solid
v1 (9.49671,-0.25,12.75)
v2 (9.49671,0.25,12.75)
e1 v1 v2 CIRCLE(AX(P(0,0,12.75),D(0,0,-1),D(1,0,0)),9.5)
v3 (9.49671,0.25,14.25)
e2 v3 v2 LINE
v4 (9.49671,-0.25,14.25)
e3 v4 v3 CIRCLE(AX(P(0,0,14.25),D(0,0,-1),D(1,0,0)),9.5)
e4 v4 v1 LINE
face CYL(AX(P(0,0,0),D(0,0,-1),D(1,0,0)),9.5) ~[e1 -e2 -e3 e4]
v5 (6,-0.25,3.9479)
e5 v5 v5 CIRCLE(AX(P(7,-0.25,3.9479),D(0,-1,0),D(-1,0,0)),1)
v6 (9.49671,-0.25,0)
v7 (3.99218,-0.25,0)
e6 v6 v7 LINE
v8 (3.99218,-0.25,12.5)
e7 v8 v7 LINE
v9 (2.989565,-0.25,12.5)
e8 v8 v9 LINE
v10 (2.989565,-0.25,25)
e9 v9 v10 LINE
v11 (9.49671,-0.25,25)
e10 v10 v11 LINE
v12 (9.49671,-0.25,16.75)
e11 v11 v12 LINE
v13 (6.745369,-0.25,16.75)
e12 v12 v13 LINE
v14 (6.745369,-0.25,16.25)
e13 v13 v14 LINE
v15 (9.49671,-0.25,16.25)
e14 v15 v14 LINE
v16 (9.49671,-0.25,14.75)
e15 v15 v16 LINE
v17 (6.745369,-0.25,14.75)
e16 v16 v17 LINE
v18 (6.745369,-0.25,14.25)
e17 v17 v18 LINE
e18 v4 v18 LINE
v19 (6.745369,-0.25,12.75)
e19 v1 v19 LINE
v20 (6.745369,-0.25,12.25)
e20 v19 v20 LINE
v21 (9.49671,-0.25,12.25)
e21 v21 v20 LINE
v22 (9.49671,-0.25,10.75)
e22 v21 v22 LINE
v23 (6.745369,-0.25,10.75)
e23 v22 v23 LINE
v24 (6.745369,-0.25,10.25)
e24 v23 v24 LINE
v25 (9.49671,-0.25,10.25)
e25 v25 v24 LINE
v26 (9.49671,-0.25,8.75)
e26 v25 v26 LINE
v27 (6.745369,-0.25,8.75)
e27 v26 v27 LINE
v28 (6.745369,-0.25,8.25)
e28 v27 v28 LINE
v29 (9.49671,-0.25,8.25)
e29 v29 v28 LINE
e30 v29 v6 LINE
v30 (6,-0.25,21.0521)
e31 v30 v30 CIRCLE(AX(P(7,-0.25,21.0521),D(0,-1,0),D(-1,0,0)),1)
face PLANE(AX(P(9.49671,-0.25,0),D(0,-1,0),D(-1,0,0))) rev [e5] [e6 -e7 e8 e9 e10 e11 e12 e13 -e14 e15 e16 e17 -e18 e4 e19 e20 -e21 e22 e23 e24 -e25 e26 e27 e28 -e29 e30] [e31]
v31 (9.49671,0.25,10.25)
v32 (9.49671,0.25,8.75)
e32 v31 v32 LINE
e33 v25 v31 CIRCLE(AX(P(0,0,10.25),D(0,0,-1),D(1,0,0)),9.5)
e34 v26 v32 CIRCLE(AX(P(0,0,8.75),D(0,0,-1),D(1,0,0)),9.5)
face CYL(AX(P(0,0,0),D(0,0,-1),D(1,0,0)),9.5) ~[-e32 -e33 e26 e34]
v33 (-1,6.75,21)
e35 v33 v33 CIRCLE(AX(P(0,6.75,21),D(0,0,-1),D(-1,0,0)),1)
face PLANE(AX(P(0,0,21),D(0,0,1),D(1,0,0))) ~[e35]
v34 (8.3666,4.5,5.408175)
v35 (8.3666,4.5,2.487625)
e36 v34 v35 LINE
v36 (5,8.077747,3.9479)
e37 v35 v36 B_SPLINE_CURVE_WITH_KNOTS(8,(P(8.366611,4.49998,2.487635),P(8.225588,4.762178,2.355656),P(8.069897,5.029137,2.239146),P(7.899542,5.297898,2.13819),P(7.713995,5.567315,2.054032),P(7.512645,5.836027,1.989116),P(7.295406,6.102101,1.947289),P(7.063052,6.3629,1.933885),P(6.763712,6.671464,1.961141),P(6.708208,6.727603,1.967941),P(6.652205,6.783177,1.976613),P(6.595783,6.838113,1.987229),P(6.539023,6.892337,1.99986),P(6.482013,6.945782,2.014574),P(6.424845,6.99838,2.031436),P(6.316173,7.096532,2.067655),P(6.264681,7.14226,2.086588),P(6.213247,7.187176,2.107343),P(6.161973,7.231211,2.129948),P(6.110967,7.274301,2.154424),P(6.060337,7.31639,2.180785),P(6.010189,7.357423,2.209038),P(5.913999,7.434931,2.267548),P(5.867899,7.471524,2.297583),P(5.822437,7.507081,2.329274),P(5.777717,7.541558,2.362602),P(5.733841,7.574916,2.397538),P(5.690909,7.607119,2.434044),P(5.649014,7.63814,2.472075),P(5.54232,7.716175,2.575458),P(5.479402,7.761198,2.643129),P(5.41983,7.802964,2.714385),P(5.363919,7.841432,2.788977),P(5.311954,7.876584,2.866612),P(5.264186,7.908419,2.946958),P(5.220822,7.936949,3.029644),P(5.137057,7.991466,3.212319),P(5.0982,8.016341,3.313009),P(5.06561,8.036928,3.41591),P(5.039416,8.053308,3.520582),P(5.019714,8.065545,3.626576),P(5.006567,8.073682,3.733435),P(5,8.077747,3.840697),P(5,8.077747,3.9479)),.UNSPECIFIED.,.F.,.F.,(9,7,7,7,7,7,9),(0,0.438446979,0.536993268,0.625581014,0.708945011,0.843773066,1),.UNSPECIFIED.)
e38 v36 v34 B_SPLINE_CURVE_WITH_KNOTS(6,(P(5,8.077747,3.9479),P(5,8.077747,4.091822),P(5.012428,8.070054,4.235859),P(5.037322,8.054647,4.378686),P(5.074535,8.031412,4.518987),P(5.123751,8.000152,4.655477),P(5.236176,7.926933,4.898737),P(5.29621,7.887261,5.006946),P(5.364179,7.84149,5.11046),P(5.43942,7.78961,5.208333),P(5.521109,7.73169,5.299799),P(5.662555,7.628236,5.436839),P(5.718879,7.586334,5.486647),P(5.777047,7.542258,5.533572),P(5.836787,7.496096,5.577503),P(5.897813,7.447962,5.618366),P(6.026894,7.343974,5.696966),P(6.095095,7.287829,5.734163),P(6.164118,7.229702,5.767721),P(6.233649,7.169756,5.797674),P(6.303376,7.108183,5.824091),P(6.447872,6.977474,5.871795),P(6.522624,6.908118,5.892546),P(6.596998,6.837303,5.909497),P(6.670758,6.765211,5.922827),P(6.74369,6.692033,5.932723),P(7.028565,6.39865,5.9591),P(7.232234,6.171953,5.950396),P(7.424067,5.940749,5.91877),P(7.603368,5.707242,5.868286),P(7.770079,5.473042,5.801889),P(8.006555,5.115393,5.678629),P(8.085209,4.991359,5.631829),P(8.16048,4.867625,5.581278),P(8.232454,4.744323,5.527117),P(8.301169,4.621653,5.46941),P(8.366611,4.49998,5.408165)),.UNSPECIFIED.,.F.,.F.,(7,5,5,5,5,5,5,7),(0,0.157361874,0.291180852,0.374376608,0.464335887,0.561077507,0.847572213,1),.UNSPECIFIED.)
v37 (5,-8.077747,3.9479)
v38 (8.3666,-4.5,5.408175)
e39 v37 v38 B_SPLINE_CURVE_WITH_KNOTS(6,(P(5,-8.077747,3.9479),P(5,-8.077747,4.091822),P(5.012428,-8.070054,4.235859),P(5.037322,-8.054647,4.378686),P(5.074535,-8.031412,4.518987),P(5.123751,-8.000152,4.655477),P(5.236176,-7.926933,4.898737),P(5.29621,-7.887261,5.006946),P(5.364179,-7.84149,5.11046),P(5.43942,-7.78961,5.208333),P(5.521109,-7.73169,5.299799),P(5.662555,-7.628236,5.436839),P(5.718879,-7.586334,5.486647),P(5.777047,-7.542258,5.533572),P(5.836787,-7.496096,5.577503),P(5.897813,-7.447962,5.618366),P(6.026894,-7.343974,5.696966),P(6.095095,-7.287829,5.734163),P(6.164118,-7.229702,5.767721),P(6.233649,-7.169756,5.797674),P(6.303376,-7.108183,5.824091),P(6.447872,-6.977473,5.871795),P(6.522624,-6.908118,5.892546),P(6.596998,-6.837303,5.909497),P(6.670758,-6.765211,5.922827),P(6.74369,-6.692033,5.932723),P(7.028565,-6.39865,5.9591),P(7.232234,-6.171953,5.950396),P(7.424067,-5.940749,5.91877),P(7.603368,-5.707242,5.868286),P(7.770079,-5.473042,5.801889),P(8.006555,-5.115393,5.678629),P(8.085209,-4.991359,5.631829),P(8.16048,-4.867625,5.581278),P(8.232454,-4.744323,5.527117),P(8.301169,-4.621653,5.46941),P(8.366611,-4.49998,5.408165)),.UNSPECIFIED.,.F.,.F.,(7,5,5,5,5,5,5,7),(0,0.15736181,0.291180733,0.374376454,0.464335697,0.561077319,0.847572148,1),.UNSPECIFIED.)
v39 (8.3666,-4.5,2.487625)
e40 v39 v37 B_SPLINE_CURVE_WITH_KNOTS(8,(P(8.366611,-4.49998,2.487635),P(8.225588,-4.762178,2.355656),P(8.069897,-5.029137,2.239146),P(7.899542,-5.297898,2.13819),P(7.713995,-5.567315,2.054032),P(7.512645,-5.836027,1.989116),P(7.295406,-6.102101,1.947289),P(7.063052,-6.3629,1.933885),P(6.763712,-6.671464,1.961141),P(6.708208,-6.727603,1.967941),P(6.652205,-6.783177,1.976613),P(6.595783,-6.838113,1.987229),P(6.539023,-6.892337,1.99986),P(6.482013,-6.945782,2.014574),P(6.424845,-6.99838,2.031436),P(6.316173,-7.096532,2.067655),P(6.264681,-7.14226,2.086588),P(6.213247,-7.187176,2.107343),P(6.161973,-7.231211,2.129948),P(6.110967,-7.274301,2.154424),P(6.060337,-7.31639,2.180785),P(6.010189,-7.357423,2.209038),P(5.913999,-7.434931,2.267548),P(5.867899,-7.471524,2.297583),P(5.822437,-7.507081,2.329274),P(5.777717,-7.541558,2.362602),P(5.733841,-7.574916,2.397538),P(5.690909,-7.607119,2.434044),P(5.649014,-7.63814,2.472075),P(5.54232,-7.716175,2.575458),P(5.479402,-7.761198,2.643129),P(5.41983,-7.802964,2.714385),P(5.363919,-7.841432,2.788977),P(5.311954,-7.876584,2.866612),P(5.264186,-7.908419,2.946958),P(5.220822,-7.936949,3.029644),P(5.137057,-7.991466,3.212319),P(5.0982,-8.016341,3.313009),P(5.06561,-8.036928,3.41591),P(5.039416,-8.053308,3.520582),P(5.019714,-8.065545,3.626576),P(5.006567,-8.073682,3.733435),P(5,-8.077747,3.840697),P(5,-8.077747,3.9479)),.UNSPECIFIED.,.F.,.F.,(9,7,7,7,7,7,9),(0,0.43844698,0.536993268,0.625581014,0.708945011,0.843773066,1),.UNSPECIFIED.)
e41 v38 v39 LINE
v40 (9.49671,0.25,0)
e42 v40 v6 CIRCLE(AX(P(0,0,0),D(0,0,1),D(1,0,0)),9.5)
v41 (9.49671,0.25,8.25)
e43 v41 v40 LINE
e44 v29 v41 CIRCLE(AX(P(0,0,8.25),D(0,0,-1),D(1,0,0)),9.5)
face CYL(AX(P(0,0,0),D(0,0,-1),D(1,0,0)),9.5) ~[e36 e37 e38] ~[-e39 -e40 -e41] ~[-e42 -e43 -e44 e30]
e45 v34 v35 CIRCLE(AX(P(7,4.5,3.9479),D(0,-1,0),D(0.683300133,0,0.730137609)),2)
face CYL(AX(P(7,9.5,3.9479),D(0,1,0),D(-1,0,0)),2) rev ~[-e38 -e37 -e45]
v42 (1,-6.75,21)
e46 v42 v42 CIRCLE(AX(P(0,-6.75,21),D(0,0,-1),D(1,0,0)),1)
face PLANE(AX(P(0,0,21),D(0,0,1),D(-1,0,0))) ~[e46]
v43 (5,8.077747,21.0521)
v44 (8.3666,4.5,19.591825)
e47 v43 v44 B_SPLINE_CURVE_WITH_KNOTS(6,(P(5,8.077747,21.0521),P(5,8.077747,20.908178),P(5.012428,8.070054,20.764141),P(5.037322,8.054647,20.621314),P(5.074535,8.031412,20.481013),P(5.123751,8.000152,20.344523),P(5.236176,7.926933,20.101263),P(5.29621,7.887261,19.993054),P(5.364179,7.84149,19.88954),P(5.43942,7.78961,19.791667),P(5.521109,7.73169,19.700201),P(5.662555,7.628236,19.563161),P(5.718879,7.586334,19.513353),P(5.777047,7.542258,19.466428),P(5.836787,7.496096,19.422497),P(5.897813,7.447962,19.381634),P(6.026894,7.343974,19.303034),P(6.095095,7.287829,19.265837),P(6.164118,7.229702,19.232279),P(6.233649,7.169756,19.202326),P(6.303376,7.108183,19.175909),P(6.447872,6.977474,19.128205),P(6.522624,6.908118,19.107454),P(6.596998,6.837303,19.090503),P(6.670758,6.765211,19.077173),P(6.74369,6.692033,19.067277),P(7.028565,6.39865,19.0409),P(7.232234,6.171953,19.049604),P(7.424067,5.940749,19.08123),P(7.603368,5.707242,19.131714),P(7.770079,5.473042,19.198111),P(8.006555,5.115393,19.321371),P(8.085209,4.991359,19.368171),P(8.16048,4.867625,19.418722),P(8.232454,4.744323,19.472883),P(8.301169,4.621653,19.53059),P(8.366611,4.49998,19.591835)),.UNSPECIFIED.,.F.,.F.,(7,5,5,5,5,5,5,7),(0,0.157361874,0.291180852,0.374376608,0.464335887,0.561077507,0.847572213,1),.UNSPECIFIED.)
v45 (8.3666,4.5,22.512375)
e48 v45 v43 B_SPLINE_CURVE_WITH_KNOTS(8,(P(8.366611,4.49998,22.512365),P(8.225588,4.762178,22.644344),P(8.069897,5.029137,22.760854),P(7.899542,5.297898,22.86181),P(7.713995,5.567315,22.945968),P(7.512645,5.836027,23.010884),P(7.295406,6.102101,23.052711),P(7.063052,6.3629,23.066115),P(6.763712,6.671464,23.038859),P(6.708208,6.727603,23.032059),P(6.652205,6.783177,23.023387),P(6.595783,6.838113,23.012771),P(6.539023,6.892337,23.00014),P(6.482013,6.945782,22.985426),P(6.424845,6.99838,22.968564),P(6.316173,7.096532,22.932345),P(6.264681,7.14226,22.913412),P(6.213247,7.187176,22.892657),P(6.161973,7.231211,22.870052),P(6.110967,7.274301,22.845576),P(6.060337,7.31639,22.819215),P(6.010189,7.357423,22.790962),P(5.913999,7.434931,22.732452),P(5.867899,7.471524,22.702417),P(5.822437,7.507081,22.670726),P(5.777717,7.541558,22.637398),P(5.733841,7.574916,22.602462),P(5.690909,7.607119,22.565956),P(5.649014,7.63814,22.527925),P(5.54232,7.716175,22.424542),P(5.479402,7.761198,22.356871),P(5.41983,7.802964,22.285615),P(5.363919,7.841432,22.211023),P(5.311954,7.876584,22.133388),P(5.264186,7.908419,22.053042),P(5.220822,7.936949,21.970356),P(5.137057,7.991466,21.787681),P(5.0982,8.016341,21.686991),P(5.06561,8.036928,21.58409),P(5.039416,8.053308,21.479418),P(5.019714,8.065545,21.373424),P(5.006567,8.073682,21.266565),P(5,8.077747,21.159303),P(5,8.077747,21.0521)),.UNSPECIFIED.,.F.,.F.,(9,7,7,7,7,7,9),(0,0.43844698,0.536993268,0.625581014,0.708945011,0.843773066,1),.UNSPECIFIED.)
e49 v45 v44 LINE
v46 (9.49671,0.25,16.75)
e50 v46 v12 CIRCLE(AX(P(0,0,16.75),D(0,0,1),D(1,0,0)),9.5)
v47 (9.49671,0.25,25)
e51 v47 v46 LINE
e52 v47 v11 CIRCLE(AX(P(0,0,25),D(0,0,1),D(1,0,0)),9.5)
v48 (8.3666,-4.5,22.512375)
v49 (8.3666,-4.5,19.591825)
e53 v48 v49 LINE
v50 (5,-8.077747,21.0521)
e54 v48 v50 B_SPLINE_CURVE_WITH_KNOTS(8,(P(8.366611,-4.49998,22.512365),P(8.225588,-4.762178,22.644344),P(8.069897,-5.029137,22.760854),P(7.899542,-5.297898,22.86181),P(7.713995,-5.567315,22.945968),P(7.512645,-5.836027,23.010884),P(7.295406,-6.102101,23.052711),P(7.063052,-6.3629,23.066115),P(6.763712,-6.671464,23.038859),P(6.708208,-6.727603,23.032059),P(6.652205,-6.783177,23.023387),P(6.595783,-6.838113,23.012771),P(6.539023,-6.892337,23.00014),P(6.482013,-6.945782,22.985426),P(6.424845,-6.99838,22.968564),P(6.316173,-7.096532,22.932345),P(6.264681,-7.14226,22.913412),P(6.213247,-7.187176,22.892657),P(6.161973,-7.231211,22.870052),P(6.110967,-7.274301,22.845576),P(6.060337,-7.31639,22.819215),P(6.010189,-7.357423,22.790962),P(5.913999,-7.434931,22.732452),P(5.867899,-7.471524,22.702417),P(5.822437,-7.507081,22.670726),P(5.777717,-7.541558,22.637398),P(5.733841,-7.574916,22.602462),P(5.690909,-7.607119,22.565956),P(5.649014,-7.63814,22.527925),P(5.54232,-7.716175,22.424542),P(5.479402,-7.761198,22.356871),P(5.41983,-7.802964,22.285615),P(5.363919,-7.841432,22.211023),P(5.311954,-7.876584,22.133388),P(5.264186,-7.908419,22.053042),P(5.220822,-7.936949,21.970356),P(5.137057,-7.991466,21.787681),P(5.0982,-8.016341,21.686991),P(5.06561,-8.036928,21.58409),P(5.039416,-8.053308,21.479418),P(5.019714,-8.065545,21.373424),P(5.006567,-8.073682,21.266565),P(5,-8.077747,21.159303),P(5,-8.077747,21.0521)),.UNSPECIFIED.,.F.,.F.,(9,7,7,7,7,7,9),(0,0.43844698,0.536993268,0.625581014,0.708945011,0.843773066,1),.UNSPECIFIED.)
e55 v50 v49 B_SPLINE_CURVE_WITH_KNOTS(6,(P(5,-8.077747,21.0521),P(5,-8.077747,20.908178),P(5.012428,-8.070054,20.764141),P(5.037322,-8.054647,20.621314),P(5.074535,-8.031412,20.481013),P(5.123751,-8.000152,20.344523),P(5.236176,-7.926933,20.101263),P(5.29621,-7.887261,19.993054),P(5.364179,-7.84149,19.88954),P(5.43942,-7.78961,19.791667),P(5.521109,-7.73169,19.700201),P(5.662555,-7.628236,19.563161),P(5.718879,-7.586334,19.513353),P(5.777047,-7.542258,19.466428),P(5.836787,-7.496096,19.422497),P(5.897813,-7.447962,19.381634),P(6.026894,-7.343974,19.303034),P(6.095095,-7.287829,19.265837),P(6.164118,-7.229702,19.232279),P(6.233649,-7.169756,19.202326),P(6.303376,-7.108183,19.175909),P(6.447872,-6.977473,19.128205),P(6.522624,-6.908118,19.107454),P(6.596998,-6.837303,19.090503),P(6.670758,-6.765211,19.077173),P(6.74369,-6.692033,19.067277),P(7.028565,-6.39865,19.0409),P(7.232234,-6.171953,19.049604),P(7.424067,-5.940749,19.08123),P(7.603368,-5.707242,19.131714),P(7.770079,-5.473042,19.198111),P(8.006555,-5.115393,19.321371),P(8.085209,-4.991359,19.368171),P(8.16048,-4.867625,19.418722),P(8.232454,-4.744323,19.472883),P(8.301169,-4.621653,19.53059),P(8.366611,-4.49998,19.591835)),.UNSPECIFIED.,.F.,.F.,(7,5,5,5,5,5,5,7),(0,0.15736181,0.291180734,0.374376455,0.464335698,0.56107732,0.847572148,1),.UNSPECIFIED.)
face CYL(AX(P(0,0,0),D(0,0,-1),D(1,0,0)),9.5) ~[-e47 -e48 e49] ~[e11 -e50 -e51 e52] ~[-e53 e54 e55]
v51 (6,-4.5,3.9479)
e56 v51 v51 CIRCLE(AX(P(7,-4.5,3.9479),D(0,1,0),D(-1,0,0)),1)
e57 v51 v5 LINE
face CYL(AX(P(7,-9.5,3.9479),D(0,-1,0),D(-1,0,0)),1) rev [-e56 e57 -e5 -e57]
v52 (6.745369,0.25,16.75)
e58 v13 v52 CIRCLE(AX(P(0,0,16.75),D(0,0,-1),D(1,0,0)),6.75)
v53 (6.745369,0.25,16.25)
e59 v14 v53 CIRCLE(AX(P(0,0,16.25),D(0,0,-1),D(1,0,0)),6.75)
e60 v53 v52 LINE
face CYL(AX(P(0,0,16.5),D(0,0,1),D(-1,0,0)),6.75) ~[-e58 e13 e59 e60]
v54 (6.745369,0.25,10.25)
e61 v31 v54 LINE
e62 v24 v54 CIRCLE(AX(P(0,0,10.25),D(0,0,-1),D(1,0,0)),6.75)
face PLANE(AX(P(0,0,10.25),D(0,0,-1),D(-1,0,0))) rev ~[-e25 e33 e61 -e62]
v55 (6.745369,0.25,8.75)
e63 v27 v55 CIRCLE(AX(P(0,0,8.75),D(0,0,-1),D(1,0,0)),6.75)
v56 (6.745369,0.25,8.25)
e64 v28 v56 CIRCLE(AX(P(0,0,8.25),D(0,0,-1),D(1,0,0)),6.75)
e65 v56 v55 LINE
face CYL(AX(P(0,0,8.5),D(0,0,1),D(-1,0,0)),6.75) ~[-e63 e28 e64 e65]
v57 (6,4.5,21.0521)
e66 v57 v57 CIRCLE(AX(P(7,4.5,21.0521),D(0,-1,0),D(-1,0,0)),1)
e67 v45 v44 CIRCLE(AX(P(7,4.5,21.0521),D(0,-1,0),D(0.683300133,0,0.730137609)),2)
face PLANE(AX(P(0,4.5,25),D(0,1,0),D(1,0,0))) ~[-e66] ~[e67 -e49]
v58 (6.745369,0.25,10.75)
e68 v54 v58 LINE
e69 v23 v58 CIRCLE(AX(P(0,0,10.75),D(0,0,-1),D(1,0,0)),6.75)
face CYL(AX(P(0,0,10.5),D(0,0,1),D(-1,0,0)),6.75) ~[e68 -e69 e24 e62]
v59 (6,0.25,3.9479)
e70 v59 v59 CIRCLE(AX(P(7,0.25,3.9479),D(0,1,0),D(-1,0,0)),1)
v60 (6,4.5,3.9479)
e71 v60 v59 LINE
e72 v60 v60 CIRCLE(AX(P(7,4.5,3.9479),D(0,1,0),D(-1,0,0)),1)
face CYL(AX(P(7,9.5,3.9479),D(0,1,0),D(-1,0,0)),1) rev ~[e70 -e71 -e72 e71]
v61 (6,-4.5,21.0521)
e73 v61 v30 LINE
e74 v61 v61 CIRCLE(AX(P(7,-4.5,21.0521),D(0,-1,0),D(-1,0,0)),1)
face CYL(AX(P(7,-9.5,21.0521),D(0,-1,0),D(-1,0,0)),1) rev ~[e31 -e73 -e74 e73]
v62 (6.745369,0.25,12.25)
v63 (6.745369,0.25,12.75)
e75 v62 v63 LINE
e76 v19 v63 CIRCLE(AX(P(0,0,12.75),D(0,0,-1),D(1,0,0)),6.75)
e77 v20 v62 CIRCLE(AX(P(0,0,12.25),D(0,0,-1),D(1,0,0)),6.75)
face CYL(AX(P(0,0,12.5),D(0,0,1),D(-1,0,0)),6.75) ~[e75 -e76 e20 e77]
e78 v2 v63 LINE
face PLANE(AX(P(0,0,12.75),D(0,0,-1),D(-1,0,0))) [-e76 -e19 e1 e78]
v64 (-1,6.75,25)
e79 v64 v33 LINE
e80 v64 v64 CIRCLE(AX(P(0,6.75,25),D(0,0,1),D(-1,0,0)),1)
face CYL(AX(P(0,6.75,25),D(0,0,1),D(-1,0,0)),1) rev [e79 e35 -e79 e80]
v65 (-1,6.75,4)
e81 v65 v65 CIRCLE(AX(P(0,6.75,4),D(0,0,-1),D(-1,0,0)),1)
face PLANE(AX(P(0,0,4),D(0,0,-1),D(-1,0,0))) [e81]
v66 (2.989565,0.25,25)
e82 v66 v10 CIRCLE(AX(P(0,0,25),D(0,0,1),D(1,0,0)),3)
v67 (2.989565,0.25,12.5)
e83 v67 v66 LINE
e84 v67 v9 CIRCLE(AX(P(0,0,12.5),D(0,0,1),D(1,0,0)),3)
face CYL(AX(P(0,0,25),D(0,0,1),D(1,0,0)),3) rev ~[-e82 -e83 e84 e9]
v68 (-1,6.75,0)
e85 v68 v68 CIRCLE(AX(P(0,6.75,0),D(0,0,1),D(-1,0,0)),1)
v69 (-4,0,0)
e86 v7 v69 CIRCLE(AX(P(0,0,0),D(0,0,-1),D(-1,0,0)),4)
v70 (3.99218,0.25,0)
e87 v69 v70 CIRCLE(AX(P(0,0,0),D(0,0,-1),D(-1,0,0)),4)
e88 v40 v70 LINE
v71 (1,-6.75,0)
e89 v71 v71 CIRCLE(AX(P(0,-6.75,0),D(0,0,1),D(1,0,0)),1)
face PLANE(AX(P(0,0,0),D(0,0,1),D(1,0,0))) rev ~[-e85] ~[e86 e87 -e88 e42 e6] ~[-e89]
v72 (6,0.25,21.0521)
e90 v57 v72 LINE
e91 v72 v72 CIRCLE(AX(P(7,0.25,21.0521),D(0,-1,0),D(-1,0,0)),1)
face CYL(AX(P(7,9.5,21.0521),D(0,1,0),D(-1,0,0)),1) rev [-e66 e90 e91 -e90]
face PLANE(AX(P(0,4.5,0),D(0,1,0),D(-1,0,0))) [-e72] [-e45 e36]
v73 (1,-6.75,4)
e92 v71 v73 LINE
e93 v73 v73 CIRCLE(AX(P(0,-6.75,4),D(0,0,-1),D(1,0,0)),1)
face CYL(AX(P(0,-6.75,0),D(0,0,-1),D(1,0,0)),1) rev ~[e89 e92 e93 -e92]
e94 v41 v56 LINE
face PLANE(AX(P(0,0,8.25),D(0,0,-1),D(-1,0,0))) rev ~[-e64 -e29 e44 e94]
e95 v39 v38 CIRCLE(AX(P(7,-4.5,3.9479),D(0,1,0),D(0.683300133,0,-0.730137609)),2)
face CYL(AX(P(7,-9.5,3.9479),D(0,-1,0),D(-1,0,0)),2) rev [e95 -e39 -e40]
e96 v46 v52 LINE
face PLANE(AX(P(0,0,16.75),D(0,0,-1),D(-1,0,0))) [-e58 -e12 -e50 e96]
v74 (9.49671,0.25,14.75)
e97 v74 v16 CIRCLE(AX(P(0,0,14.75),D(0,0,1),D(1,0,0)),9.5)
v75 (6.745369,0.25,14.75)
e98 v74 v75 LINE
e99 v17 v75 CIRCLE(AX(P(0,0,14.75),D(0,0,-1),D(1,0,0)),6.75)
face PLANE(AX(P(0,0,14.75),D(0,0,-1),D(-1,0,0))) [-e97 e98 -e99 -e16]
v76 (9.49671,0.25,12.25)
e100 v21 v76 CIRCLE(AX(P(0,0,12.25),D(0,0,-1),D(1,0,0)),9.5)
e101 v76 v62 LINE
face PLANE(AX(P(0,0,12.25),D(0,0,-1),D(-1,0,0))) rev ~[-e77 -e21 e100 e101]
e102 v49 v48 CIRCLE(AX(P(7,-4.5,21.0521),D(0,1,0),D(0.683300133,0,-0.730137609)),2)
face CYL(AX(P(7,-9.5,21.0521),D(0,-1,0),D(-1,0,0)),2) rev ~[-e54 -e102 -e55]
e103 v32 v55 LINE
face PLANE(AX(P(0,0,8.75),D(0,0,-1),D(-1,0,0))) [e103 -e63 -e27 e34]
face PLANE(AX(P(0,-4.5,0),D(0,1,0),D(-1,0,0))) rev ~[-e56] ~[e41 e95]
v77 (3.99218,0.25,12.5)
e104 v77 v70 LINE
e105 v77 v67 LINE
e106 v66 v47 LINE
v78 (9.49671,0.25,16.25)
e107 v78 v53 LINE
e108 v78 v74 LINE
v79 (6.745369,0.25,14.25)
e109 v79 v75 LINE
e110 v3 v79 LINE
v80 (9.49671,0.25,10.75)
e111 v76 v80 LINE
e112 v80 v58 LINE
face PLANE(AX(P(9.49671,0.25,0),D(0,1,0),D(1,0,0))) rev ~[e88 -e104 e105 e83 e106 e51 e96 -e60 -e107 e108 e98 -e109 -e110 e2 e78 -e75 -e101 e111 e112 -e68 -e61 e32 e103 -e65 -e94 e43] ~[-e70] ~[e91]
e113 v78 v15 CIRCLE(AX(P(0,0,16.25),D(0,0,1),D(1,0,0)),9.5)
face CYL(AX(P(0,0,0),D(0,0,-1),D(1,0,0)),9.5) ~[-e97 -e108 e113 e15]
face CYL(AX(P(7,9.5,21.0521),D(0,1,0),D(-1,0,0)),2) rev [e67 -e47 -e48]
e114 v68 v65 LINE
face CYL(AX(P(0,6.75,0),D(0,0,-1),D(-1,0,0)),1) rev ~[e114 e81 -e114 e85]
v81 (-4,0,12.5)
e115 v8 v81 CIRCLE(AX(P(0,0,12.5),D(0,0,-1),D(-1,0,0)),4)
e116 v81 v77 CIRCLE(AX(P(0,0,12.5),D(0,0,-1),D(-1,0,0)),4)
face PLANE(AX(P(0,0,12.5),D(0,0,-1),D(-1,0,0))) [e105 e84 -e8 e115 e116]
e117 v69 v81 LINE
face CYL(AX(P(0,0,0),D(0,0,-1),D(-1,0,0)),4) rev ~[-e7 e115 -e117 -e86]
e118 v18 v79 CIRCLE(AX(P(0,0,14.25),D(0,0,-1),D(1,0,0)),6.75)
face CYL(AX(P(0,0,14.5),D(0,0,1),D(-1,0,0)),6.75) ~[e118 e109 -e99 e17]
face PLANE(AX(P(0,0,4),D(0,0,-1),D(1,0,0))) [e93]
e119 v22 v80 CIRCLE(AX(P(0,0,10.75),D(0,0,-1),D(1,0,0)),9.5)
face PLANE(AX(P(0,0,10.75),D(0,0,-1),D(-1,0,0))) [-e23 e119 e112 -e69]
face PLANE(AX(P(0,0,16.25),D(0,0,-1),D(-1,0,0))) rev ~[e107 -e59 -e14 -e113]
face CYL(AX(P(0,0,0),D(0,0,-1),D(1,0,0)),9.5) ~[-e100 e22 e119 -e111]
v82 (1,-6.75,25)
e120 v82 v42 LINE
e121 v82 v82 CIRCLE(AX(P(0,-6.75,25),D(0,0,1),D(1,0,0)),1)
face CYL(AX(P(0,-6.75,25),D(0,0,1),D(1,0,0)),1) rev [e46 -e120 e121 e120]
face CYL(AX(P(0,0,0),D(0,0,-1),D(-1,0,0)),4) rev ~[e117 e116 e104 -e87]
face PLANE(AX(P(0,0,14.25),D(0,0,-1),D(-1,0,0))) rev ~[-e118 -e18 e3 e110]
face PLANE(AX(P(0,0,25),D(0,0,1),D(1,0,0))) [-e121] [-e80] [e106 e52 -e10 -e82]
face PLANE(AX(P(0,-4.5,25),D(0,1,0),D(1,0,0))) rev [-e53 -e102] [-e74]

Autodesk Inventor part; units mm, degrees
sketch "Эскиз1" plane through (0, 0, 0) normal (0, 0, 1) x (1, 0, 0)
  circle A0 centre (0, 0) radius 9.5
  dimension "d0" = 19
extrude "Выдавливание1" add sketch "Эскиз1" along normal blind 25
sketch "Эскиз2" plane through (0, 0, 25) normal (0, 0, 1) x (1, 0, 0)
  circle A0 centre (0, 0) radius 3
  dimension "d3" = 6
extrude "Выдавливание2" cut sketch "Эскиз2" against normal blind 12.5
sketch "Эскиз3" plane through (0, 0, 0) normal (0, 0, -1) x (-1, 0, 0)
  circle A0 centre (0, 0) radius 4
  dimension "d6" = 8
extrude "Выдавливание3" cut sketch "Эскиз3" against normal blind 12.5
ref_plane "РабПлоскость1" through (-9.5, 0, 0) normal (1, 0, 0) x (0, 1, 0)
ref_plane "РабПлоскость2" through (0, 0, 12.5) normal (0, 0, -1) x (-1, 0, 0)
sketch "Эскиз5" plane through (0, 0, 12.5) normal (0, 0, -1) x (-1, 0, 0)
  circle A0 centre (0, 0) radius 9.5
  circle A1 centre (0, 0) radius 6.75
  dimension "d20" = 19
  dimension "d21" = 13.5
extrude "Выдавливание5" cut sketch "Эскиз5" along normal mid plane 0.5
pattern_linear "Прямоуг.массив2" count 3 spacing 2 along (0, 0, 1) of "Выдавливание5"
pattern_linear "Прямоуг.массив3" count 3 spacing 2 along (0, 0, -1) of "Выдавливание5"
sketch "Эскиз6" plane through (0, 0, 0) normal (0, 0, -1) x (-1, 0, 0)
  circle A0 centre (0, 0) radius 9.5 projected
  circle A1 centre (0, 0) radius 6.75 projected
  line L0 (-9.5, 0.25) -> (-9.5, 0)
  line L1 (2, 0) -> (2, 0.25)
  line L2 (2, 0.25) -> (-9.5, 0.25)
  line L3 (2, 0) -> (-9.5, 0)
  dimension "d49" = 11.5
  dimension "d50" = 0.25
extrude "Выдавливание6" cut sketch "Эскиз6" against normal up to next contours L0 L2 A0 | A0 L2 A1 L3 | A1 L2 L1 L3 picked at (-7.6653, 0.1389) picked at (-0.9151, 0.1667)
sketch "Эскиз7" plane through (0, 0, 0) normal (0, 0, -1) x (-1, 0, 0)
  arc A0 (-6.75, 0) -> (-6.7454, 0.25) centre (0, 0) ccw projected
  circle A1 centre (0, 6.75) radius 1
  point P0 (6.7454, 0.25)
  dimension "d33" = 2
extrude "Выдавливание7" cut sketch "Эскиз7" against normal blind 4
pattern_circular "Круговой массив2" count 2 over 360 about axis through (0, 0, 0) along (0, 0, 1) of "Выдавливание7"
mirror "Зеркальное отражение2" about plane through (0, 0, 12.5) normal (0, 0, -1) of "Выдавливание7", "Круговой массив2"
thread "Резьба1" size "M2x0.4" class "6H" standard "ANSI Metric M Profile" full length
thread "Резьба2" size "M2x0.4" class "6H" standard "ANSI Metric M Profile" full length
thread "Резьба3" size "M2x0.4" class "6H" standard "ANSI Metric M Profile" full length
thread "Резьба4" size "M2x0.4" class "6H" standard "ANSI Metric M Profile" full length
mirror "Зеркальное отражение3" about plane through (-2, 0, 0) normal (0, 1, 0) of "Выдавливание6"
ref_plane "РабПлоскость3" through (0, -9.5, 0) normal (0, 1, 0) x (-1, 0, 0)
sketch "Эскиз8" plane through (0, -9.5, 0) normal (0, 1, 0) x (-1, 0, 0)
  line L0 (-9.5, -0.0521) -> (-9.5, 3.9479)
  line L1 (-9.5, 3.9479) -> (-7, 3.9479)
  circle A0 centre (-7, 3.9479) radius 1
  point P0 (0, 0)
  dimension "d51" = 2
  dimension "d52" = 2.5
  dimension "d53" = 4
extrude "Выдавливание8" cut sketch "Эскиз8" along normal up to next
sketch "Эскиз9" plane through (0, -9.5, 0) normal (0, 1, 0) x (-1, 0, 0)
  circle A0 centre (-7, 3.9479) radius 1 projected
  circle A1 centre (-7, 3.9479) radius 2
  point P0 (0, 0)
  dimension "d56" = 4
extrude "Выдавливание9" cut sketch "Эскиз9" along normal blind 5
ref_plane "РабПлоскость5" through (0, 9.5, 0) normal (0, 1, 0) x (-1, 0, 0)
sketch "Эскиз10" plane through (0, 9.5, 0) normal (0, 1, 0) x (-1, 0, 0)
  circle A0 centre (-7, 3.9479) radius 1 projected
  circle A1 centre (-7, 3.9479) radius 1
  point P0 (0, 0)
extrude "Выдавливание10" cut sketch "Эскиз10" against normal up to next
sketch "Эскиз11" plane through (0, 9.5, 0) normal (0, 1, 0) x (-1, 0, 0)
  circle A0 centre (-7, 3.9479) radius 1 projected
  circle A1 centre (-7, 3.9479) radius 2
  point P0 (0, 0)
extrude "Выдавливание11" cut sketch "Эскиз11" against normal blind 5
mirror "Зеркальное отражение10" about plane through (0, 0, 12.5) normal (0, 0, -1) of "Выдавливание8", "Выдавливание9"
mirror "Зеркальное отражение11" about plane through (0, 0, 12.5) normal (0, 0, -1) of "Выдавливание10", "Выдавливание11"
properties part number "Муфта4х5"
